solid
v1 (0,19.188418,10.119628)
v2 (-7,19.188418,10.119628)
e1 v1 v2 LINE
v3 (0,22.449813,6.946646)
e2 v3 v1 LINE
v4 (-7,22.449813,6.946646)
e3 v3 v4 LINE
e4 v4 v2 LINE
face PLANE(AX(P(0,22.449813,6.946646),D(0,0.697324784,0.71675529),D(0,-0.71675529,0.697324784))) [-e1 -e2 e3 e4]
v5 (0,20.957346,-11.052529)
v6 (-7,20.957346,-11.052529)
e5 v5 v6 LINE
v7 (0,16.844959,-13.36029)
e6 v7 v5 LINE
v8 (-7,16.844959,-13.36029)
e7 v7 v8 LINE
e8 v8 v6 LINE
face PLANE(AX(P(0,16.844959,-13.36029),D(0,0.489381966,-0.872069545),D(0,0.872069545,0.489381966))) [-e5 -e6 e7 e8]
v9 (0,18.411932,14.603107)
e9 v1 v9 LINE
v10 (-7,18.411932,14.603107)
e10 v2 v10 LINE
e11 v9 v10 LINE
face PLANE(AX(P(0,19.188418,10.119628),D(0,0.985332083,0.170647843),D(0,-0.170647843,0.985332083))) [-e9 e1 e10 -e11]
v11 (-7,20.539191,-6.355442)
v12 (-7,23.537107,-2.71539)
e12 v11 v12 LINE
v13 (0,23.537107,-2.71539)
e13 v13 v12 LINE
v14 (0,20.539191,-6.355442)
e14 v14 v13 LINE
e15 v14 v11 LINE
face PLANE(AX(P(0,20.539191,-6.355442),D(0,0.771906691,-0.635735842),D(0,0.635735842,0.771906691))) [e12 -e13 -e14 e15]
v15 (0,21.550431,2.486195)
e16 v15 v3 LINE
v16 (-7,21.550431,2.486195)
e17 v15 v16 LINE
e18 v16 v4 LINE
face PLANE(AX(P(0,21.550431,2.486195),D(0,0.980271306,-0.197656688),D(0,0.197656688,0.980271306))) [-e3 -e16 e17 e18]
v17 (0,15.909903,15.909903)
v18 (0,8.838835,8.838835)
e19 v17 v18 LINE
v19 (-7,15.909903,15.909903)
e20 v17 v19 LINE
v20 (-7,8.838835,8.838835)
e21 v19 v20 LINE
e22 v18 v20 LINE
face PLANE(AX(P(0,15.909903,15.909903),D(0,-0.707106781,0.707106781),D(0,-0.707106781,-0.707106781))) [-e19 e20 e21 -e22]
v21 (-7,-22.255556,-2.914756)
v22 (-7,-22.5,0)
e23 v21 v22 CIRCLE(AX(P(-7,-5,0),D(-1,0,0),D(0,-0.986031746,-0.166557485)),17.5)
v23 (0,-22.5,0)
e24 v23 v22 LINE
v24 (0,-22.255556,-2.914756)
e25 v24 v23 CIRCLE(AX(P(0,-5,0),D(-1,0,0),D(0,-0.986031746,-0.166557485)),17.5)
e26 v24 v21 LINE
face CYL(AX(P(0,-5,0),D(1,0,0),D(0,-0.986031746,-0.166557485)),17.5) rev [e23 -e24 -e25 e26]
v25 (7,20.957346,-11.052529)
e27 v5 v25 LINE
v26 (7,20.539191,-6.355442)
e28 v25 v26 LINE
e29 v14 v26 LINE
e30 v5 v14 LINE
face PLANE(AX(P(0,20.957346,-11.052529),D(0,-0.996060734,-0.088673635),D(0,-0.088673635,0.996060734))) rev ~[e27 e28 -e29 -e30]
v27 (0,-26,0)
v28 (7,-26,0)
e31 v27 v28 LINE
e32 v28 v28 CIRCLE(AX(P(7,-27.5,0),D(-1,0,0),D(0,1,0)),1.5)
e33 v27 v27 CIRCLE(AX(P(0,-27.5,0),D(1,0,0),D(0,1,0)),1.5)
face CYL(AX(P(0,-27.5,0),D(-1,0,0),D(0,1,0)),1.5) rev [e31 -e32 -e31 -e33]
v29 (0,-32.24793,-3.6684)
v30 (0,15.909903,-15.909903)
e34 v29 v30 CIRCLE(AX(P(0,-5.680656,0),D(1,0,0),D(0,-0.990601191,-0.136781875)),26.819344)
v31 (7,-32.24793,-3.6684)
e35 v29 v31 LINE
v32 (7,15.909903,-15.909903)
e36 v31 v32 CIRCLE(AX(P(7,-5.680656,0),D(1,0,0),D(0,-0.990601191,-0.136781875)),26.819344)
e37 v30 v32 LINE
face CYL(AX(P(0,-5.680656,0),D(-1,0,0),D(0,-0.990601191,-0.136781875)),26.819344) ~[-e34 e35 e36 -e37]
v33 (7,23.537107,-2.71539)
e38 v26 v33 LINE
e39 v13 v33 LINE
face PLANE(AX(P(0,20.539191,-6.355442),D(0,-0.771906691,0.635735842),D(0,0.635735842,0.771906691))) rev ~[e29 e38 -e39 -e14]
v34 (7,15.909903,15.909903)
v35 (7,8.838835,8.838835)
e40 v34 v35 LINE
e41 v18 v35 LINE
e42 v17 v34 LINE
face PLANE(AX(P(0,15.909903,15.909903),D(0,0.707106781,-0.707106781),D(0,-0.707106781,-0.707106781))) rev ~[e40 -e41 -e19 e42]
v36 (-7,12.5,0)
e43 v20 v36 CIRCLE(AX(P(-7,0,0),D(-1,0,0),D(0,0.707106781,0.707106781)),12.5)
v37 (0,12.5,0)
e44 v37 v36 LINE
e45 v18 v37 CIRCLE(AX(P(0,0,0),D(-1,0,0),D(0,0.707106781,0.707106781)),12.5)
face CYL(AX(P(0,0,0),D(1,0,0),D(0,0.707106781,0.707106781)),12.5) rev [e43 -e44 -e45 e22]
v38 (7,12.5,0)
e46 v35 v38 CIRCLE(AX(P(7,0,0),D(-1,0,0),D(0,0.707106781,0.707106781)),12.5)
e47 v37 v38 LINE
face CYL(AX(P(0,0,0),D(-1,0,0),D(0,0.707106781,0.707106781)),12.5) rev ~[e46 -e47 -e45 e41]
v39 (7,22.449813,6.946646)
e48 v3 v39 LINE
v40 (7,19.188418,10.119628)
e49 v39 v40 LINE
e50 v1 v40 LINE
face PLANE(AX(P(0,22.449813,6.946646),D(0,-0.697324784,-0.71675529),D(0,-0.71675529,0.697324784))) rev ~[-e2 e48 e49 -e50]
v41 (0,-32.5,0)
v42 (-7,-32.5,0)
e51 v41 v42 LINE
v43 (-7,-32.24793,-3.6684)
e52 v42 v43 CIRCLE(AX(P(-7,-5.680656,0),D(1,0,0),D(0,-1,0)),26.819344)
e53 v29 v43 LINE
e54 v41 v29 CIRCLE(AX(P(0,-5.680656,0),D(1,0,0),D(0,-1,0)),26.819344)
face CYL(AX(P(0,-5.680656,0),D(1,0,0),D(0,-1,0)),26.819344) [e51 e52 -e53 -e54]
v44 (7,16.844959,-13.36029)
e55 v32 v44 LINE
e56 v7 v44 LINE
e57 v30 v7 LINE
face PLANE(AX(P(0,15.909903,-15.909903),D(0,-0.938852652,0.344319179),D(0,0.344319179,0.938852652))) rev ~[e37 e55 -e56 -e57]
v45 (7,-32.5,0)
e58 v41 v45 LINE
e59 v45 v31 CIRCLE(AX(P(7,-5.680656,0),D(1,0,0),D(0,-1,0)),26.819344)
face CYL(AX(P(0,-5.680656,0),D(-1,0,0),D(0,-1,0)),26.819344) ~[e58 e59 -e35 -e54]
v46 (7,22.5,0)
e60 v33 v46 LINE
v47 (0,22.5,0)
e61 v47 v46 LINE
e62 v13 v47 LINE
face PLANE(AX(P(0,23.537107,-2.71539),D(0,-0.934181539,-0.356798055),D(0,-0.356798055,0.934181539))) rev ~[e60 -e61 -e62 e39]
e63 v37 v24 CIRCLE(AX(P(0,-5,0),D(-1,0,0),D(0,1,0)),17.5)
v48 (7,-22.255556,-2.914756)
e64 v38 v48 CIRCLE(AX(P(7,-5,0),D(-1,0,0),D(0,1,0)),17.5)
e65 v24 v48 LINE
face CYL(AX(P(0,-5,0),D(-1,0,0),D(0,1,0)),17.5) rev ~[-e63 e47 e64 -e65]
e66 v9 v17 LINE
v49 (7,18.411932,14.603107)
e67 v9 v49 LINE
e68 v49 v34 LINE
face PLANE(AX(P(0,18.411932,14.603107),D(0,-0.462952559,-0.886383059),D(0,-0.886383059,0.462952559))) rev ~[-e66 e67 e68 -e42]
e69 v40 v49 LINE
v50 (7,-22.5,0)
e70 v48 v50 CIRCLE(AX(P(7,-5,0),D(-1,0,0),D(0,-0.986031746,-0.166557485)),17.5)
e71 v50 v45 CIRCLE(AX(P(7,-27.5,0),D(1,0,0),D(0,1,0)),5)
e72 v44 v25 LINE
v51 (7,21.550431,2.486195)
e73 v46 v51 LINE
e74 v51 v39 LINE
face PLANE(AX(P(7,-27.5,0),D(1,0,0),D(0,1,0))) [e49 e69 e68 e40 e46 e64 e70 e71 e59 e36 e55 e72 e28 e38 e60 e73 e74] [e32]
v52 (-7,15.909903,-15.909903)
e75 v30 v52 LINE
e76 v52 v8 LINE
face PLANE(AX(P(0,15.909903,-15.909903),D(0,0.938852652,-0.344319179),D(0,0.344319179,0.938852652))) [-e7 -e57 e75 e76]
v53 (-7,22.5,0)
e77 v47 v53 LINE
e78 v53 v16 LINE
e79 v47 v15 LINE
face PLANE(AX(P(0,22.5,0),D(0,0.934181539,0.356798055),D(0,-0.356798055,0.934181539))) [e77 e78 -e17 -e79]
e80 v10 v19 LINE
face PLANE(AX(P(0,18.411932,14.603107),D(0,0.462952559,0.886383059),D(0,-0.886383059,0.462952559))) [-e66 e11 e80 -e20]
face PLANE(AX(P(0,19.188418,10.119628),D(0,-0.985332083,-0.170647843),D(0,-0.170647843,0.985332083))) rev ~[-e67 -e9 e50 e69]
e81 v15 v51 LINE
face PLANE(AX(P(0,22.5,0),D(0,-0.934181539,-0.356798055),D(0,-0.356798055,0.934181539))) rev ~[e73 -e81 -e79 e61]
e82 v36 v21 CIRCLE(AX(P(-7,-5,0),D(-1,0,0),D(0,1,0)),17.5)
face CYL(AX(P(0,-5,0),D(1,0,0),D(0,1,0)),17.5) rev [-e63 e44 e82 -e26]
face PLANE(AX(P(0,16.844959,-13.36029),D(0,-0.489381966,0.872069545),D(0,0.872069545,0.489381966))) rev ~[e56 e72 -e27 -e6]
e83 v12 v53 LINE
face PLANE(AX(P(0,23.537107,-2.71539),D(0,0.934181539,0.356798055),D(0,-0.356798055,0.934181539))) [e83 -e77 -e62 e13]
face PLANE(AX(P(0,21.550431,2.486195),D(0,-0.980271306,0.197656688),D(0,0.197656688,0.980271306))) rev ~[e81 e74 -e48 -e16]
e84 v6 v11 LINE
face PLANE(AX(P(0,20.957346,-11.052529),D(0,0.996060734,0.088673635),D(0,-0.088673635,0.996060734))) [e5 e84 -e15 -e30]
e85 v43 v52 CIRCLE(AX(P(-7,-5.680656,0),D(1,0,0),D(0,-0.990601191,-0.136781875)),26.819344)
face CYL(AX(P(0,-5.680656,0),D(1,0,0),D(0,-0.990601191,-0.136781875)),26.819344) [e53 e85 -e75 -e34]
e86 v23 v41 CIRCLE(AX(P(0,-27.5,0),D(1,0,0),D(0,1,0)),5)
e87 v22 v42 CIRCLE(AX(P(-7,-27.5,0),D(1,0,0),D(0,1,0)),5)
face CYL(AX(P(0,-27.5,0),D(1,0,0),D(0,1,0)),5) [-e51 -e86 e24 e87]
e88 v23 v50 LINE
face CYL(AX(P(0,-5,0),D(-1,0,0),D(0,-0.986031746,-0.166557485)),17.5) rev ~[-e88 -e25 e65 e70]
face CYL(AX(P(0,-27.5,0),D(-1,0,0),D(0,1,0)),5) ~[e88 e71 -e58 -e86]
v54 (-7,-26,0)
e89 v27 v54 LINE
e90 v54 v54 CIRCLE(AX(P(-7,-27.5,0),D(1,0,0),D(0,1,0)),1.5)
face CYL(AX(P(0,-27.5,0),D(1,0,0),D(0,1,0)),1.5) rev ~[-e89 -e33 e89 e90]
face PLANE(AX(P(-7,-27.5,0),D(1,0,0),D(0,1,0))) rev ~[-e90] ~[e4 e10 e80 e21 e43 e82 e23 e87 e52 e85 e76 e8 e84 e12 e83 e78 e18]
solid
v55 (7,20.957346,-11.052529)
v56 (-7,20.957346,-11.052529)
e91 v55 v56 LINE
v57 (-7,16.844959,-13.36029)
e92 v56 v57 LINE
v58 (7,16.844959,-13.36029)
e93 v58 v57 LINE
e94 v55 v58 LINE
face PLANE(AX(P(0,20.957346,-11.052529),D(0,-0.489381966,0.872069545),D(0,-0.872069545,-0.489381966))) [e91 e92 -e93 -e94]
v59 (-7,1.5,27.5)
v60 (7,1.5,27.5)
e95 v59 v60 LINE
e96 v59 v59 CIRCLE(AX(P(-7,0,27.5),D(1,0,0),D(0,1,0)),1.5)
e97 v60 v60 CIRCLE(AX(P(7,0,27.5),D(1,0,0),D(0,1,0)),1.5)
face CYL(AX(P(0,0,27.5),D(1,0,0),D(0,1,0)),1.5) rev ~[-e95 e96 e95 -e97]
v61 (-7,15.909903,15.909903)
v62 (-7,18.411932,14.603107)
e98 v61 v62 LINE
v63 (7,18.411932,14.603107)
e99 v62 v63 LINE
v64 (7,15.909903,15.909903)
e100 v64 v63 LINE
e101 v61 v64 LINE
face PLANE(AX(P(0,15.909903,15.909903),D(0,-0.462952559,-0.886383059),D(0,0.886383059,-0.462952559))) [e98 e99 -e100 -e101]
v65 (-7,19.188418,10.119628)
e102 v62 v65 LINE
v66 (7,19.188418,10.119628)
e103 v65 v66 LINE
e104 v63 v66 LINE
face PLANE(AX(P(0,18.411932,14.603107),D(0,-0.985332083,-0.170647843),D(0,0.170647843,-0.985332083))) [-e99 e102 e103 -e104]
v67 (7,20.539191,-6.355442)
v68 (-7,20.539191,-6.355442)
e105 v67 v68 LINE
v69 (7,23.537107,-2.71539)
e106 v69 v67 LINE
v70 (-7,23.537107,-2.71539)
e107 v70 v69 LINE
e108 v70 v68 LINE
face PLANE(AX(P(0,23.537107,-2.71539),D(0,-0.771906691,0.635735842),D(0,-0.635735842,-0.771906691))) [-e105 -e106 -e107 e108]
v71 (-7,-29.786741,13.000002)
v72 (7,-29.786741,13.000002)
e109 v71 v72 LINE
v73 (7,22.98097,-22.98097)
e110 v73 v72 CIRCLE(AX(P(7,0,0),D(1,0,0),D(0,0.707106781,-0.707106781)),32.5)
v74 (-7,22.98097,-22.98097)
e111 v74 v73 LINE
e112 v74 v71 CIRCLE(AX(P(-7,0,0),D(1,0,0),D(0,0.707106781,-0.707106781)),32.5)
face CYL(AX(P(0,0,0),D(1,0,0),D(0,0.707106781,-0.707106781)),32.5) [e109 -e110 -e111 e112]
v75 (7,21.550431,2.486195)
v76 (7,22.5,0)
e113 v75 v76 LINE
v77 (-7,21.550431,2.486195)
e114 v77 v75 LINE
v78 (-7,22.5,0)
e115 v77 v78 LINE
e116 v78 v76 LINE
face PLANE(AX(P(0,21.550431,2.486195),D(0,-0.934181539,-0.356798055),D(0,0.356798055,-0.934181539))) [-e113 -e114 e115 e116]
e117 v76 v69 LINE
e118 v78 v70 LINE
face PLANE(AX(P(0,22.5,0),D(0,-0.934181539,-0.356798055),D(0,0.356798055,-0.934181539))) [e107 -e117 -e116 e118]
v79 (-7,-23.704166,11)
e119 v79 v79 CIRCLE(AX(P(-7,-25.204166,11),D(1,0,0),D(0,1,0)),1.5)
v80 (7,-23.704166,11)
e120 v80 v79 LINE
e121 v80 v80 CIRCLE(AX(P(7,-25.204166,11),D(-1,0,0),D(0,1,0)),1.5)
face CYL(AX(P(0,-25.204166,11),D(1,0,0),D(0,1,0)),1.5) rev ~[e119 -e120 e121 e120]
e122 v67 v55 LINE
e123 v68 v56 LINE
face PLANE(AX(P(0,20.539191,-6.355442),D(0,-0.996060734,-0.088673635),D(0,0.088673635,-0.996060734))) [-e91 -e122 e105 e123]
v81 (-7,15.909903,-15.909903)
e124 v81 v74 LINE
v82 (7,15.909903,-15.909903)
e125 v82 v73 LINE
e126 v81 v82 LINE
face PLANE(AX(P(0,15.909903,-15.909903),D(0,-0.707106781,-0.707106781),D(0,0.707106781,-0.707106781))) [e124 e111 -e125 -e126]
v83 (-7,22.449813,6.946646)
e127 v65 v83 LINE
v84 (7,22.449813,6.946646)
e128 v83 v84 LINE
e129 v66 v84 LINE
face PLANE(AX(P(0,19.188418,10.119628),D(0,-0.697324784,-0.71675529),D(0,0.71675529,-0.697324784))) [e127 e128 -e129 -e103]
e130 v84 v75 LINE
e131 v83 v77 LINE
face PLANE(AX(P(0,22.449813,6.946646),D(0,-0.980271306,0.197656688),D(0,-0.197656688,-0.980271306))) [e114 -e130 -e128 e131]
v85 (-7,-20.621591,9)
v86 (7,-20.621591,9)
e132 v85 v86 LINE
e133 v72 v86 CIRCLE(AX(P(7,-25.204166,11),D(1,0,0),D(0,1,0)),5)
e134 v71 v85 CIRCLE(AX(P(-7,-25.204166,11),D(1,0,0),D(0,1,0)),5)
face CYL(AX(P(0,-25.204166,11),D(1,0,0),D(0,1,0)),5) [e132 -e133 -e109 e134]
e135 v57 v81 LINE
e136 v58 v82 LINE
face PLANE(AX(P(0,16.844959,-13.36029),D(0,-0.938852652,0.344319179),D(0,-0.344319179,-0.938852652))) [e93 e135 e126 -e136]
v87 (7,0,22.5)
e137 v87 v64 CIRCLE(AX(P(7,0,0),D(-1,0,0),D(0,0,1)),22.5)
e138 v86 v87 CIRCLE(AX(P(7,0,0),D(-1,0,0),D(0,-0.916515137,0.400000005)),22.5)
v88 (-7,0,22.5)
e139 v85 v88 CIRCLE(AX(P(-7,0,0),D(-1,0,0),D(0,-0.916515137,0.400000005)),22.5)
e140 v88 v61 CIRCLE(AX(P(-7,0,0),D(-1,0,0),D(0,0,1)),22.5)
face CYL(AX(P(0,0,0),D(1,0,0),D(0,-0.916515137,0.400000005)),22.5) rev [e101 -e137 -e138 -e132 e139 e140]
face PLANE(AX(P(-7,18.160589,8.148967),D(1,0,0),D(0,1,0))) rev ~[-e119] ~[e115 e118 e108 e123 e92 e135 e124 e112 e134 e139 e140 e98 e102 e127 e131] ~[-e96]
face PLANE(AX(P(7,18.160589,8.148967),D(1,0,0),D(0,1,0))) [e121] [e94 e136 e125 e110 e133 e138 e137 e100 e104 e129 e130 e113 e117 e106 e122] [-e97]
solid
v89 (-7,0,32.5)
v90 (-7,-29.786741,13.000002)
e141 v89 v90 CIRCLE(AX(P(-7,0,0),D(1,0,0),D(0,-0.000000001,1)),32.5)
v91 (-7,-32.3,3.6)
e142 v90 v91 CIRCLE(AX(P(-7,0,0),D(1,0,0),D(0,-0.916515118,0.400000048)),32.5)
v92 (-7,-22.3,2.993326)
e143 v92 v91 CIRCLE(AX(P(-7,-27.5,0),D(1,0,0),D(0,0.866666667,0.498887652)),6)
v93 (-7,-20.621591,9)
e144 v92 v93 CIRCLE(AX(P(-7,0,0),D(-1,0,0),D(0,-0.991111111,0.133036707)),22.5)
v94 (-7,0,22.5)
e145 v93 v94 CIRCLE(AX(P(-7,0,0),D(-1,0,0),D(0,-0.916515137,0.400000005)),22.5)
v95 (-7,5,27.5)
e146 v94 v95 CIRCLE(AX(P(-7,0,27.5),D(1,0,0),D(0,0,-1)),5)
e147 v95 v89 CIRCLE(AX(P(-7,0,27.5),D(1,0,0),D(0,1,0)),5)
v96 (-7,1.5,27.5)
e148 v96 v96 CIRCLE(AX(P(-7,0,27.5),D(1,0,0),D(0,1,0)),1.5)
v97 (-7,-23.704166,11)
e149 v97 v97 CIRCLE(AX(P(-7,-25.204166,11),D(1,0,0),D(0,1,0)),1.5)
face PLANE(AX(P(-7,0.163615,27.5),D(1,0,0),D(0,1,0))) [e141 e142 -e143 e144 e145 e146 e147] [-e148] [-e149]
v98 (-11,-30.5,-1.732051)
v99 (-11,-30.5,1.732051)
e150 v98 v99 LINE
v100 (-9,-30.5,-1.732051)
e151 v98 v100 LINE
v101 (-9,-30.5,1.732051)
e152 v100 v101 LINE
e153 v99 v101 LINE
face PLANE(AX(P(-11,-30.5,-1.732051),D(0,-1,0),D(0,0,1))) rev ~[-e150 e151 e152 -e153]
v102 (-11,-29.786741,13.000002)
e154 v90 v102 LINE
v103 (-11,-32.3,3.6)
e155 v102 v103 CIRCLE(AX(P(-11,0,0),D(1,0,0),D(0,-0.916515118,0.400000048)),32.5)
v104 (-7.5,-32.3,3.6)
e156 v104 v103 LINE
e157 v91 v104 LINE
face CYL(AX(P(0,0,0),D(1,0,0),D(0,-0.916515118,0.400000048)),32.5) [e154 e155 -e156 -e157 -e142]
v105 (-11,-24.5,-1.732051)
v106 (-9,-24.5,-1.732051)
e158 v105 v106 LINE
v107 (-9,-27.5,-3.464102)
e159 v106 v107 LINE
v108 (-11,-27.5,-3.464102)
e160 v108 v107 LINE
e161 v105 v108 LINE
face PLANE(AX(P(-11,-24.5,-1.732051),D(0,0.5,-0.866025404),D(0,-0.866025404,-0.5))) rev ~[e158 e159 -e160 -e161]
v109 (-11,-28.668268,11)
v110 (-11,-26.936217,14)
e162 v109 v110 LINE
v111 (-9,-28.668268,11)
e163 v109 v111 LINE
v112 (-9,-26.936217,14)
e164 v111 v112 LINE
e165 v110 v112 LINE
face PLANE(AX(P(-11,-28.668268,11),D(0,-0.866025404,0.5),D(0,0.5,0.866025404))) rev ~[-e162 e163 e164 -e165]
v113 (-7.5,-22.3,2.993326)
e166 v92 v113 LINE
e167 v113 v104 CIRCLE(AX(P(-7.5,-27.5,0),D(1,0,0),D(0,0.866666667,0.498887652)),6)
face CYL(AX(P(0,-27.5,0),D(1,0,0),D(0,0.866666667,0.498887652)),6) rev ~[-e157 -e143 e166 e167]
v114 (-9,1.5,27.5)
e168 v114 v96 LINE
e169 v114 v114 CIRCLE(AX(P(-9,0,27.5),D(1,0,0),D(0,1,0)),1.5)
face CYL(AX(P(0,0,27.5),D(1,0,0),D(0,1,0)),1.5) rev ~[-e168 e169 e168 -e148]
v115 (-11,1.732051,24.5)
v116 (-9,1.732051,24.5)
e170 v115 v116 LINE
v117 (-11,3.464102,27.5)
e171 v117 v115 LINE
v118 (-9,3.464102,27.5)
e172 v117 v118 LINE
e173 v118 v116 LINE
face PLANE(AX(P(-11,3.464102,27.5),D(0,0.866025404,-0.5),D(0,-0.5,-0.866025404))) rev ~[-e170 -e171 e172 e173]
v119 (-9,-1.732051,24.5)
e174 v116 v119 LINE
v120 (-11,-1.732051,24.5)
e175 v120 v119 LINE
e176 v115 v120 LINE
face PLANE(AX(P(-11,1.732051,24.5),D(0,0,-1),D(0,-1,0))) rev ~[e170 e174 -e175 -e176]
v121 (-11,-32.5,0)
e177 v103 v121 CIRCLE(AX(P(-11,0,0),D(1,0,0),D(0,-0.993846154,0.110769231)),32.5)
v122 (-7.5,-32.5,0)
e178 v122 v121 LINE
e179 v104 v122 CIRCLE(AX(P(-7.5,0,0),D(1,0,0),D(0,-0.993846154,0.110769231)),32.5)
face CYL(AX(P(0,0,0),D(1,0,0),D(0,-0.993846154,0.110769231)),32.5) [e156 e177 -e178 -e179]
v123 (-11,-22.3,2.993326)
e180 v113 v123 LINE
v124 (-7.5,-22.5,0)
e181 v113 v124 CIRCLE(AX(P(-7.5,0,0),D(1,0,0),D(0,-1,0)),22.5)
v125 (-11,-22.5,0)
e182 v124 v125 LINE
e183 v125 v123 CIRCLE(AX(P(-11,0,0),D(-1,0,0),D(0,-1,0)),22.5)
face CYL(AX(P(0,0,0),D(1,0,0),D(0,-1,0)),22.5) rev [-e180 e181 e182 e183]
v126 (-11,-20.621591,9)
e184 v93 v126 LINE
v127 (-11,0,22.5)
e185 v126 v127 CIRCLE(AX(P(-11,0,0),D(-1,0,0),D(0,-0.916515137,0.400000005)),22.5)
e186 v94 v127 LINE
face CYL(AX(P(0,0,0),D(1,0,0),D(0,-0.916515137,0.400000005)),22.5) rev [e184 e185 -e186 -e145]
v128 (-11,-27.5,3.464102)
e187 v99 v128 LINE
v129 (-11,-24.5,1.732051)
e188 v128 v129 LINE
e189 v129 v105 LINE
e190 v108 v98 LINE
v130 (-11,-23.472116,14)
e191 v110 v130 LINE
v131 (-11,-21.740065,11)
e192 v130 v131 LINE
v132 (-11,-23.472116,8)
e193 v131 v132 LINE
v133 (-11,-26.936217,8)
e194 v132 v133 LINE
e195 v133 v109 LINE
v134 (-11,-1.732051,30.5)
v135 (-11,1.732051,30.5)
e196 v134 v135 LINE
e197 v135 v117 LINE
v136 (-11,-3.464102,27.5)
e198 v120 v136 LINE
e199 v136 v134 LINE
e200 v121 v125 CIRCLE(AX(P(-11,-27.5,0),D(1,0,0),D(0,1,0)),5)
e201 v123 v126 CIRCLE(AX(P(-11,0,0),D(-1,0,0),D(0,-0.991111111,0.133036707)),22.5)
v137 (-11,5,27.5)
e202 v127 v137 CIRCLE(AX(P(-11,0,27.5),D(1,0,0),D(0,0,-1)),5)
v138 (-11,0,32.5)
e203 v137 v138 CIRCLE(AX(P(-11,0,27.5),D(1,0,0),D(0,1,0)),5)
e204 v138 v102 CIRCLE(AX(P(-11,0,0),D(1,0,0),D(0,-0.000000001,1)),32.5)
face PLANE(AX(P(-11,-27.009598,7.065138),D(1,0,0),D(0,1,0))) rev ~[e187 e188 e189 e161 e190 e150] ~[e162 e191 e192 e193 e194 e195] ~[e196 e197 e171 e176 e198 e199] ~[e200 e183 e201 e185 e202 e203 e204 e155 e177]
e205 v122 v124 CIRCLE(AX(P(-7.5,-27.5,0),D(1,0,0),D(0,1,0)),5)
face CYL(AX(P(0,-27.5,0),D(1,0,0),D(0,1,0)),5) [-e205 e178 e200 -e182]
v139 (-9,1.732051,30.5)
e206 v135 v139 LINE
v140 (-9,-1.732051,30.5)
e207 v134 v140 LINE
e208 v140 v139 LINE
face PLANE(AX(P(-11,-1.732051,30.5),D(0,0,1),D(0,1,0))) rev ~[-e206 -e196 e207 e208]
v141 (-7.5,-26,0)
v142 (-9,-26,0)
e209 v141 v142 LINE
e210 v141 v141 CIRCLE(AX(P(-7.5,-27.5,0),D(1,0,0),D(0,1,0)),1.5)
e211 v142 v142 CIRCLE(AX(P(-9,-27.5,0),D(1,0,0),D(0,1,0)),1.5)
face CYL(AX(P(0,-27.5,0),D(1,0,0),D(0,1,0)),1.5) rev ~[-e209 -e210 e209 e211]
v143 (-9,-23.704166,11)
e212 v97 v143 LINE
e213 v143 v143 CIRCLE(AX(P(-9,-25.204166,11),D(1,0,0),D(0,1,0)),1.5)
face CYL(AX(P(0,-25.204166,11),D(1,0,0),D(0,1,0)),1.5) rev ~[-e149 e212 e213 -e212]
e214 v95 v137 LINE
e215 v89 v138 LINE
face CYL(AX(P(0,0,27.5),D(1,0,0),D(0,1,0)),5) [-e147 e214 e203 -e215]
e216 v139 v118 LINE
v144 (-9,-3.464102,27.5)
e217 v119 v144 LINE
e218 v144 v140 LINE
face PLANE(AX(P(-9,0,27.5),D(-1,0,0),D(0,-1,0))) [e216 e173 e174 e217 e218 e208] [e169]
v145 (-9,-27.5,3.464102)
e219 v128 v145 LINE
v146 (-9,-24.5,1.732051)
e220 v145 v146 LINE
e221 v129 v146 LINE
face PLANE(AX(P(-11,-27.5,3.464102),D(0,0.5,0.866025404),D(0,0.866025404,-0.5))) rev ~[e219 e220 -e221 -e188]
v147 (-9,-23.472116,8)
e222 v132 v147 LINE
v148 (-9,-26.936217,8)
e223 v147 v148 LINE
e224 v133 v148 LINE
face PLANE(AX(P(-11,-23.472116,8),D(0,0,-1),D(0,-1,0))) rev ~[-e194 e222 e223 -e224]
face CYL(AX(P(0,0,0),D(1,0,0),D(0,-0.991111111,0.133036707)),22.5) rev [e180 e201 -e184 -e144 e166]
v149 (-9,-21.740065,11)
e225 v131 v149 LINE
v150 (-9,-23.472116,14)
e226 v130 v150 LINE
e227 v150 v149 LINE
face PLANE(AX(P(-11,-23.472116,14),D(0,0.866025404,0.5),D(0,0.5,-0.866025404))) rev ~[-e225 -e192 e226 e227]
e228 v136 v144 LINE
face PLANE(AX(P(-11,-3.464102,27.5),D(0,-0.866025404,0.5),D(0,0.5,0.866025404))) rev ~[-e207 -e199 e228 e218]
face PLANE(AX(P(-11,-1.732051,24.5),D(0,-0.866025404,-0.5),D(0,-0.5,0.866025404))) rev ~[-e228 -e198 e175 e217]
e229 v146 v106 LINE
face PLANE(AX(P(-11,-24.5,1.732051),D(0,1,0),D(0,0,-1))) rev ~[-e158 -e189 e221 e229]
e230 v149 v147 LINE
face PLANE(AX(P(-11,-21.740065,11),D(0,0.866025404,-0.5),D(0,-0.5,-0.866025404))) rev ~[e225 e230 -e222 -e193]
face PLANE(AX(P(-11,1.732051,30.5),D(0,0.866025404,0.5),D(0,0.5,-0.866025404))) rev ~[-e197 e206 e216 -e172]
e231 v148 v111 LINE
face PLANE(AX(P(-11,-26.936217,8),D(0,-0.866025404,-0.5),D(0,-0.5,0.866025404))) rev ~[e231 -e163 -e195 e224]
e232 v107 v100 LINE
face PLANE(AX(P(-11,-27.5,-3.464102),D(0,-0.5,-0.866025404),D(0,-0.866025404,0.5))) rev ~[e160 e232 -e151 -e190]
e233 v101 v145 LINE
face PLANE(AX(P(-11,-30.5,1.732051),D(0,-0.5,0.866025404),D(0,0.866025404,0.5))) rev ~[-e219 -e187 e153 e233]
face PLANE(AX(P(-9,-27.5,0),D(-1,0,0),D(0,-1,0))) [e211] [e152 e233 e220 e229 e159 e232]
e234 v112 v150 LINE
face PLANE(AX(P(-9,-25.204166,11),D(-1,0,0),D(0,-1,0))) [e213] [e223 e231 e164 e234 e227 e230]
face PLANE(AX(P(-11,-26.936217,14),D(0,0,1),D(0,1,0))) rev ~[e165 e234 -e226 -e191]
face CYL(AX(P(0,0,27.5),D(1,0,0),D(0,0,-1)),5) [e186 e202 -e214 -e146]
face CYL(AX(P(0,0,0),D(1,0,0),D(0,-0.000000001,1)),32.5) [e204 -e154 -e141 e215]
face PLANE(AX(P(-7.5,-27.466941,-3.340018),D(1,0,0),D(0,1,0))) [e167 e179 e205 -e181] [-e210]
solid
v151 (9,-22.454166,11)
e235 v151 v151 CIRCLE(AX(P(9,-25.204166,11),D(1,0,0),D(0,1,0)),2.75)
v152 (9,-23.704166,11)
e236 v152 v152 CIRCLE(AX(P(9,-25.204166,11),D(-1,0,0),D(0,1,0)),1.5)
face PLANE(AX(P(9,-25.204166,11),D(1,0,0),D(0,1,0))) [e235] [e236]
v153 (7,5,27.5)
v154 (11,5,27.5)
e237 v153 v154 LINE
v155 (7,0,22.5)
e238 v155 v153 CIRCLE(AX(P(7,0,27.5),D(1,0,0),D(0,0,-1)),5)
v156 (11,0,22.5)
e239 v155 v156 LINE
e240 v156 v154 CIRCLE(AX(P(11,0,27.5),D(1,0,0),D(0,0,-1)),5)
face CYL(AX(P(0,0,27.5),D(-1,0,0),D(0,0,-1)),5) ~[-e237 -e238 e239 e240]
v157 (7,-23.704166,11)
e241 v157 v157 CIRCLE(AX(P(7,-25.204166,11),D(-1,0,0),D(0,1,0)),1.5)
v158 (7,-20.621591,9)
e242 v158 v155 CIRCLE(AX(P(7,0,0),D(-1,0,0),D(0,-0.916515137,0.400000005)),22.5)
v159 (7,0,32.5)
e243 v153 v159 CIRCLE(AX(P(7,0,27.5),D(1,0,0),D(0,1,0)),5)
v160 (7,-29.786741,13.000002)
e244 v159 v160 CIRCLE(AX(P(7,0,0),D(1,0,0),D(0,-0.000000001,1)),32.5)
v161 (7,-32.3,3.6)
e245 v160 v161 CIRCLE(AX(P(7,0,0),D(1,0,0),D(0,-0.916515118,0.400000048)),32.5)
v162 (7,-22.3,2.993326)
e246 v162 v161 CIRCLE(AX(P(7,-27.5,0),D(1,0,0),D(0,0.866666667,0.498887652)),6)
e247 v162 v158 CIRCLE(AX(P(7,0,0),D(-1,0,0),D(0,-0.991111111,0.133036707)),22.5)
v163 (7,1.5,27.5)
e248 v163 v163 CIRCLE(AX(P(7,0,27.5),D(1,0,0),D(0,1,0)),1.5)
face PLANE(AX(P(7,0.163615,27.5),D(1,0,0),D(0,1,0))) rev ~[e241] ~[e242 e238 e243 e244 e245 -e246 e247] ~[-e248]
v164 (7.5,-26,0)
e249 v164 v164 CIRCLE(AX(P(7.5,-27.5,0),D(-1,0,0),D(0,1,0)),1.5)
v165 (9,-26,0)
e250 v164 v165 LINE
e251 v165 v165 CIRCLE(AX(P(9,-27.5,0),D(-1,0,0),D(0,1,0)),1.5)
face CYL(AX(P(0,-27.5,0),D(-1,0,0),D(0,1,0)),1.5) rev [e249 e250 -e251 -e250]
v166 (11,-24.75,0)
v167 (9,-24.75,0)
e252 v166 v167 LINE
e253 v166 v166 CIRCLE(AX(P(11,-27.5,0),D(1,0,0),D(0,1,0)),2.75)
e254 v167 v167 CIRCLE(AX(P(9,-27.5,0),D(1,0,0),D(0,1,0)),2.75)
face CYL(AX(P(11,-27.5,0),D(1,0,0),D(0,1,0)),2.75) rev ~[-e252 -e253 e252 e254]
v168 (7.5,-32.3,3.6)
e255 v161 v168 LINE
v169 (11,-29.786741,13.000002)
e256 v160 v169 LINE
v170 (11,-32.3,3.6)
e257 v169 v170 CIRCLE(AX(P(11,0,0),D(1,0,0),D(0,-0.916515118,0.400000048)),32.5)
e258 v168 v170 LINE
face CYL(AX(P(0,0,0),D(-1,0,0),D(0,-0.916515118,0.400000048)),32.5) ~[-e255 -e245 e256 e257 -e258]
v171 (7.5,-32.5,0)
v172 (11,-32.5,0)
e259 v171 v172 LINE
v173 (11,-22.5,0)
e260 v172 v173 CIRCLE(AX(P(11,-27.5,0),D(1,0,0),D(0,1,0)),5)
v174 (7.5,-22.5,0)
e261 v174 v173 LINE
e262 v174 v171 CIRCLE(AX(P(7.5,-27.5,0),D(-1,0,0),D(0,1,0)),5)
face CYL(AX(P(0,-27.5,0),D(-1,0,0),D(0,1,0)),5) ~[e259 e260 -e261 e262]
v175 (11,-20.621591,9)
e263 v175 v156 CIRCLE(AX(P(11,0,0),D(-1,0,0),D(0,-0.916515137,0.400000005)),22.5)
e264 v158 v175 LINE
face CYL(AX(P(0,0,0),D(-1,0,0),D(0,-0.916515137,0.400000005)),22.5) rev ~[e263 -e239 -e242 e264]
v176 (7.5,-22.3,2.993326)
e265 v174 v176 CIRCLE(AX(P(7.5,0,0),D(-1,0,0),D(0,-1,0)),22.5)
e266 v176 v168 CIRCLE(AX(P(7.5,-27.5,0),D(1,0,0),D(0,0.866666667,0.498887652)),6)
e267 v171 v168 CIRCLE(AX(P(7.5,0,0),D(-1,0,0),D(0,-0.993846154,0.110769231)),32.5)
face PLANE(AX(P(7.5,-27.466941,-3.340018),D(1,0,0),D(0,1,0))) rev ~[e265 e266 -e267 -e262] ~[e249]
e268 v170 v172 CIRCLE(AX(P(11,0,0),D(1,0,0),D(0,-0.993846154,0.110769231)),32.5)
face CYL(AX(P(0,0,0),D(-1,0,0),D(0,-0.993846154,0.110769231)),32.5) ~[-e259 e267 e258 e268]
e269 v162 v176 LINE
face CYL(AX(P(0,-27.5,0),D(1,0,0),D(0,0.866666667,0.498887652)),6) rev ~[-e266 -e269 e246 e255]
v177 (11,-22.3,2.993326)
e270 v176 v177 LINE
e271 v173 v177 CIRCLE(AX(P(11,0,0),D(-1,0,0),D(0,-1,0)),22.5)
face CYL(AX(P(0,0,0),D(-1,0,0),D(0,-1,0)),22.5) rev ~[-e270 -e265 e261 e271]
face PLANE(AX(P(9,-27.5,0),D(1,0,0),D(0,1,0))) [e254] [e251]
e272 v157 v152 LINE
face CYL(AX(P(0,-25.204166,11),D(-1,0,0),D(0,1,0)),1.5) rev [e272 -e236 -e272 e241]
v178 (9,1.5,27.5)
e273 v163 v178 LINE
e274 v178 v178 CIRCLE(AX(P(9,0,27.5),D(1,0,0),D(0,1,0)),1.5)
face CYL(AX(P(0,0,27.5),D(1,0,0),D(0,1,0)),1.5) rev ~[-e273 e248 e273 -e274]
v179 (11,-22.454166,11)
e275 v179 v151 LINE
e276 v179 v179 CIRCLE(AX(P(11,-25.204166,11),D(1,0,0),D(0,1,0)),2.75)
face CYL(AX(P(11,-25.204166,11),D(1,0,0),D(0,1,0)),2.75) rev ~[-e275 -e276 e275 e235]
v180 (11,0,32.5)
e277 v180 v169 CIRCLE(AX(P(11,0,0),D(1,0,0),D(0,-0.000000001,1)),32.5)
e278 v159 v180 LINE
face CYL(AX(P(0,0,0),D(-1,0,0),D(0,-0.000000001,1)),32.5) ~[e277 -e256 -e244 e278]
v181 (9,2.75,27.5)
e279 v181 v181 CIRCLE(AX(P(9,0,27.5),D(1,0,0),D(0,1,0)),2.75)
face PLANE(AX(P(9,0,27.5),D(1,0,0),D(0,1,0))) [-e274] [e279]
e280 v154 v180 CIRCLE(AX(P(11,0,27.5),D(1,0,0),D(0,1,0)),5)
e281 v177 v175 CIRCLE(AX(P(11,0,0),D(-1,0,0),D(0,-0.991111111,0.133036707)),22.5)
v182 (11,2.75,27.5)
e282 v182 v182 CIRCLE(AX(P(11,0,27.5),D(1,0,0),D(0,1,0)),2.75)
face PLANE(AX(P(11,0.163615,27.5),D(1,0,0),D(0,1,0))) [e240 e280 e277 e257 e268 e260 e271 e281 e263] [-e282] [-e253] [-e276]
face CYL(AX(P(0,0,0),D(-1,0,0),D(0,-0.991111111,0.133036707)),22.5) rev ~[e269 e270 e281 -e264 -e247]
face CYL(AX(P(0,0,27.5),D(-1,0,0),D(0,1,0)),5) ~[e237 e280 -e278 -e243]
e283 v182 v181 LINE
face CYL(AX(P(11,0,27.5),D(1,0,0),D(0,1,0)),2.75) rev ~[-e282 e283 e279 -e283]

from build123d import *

# Parameters (mm, degrees)
F2_DEPTH  = 11
F3_DEPTH  = 11
F4_DEPTH  = 7
F5_DEPTH  = 7.5
F6_DEPTH  = 7
F7_DEPTH  = 7
F1_R      = 1.5
F8_DEPTH  = 12.5
F9_R      = 2.75
F10_DEPTH = 2
F12_DEPTH = 2


with BuildPart() as f2:
    # F0 (on Right) → F2 (new body)
    with BuildSketch(Plane.YZ):
        with BuildLine():
            ThreePointArc((-1.75e-08, 32.5), (-5, 27.4999999913), (-2e-10, 22.5))
            ThreePointArc((-2e-10, 22.5), (3.5355339059, 23.964466094), (5, 27.5))
            ThreePointArc((5, 27.5), (3.5355338997, 31.0355339121), (-1.75e-08, 32.5))
        make_face()
        with BuildLine():
            ThreePointArc((-20.2041663223, 11), (-20.3096347441, 9.9784518461), (-20.6215905745, 9.000000121))
            ThreePointArc((-20.6215905745, 9.000000121), (-12.3237574887, 18.8248506331), (-2e-10, 22.5))
            ThreePointArc((-2e-10, 22.5), (-5, 27.4999999913), (-1.75e-08, 32.5))
            ThreePointArc((-1.75e-08, 32.5), (-17.8009824177, 27.1914513214), (-29.7867413397, 13.0000015524))
            ThreePointArc((-29.7867413397, 13.0000015524), (-24.1826172748, 15.8945313916), (-20.2041663223, 11))
        make_face()
        with BuildLine():
            ThreePointArc((-29.7867413397, 13.0000015524), (-27.204167038, 6.4174246174), (-20.6215905745, 9.000000121))
            ThreePointArc((-20.6215905745, 9.000000121), (-20.3096347441, 9.9784518461), (-20.2041663223, 11))
            ThreePointArc((-20.2041663223, 11), (-24.1826172748, 15.8945313916), (-29.7867413397, 13.0000015524))
        make_face()
        with BuildLine():
            ThreePointArc((-32.3, 3.6), (-27.1366635677, 5.9889887825), (-22.3, 2.9933259094))
            ThreePointArc((-22.3, 2.9933259094), (-21.6699277371, 6.0550996579), (-20.6215905745, 9.000000121))
            ThreePointArc((-20.6215905745, 9.000000121), (-27.204167038, 6.4174246174), (-29.7867413397, 13.0000015524))
            ThreePointArc((-29.7867413397, 13.0000015524), (-31.3971474794, 8.3945893383), (-32.3, 3.6))
        make_face()
        with BuildLine():
            ThreePointArc((-32.5, 0), (-27.5, -5), (-22.5, 0))
            ThreePointArc((-22.5, 0), (-27.5, 5), (-32.5, 0))
        make_face()
        with BuildLine():
            ThreePointArc((-32.5, 0), (-27.5, 5), (-22.5, 0))
            ThreePointArc((-22.5, 0), (-22.4499443206, 1.5), (-22.3, 2.9933259094))
            ThreePointArc((-22.3, 2.9933259094), (-27.1366635677, 5.9889887825), (-32.3, 3.6))
            ThreePointArc((-32.3, 3.6), (-32.4499614792, 1.8027756377), (-32.5, 0))
        make_face()
    extrude(amount=F2_DEPTH)


with BuildPart() as f3:
    # F0 (on Right) → F3 (new body)
    with BuildSketch(Plane.YZ):
        with BuildLine():
            ThreePointArc((-32.3, 3.6), (-27.1366635677, 5.9889887825), (-22.3, 2.9933259094))
            ThreePointArc((-22.3, 2.9933259094), (-21.6699277371, 6.0550996579), (-20.6215905745, 9.000000121))
            ThreePointArc((-20.6215905745, 9.000000121), (-27.204167038, 6.4174246174), (-29.7867413397, 13.0000015524))
            ThreePointArc((-29.7867413397, 13.0000015524), (-31.3971474794, 8.3945893383), (-32.3, 3.6))
        make_face()
        with BuildLine():
            ThreePointArc((-29.7867413397, 13.0000015524), (-27.204167038, 6.4174246174), (-20.6215905745, 9.000000121))
            ThreePointArc((-20.6215905745, 9.000000121), (-20.3096347441, 9.9784518461), (-20.2041663223, 11))
            ThreePointArc((-20.2041663223, 11), (-24.1826172748, 15.8945313916), (-29.7867413397, 13.0000015524))
        make_face()
        with BuildLine():
            ThreePointArc((-20.2041663223, 11), (-20.3096347441, 9.9784518461), (-20.6215905745, 9.000000121))
            ThreePointArc((-20.6215905745, 9.000000121), (-12.3237574887, 18.8248506331), (-2e-10, 22.5))
            ThreePointArc((-2e-10, 22.5), (-5, 27.4999999913), (-1.75e-08, 32.5))
            ThreePointArc((-1.75e-08, 32.5), (-17.8009824177, 27.1914513214), (-29.7867413397, 13.0000015524))
            ThreePointArc((-29.7867413397, 13.0000015524), (-24.1826172748, 15.8945313916), (-20.2041663223, 11))
        make_face()
        with BuildLine():
            ThreePointArc((-1.75e-08, 32.5), (-5, 27.4999999913), (-2e-10, 22.5))
            ThreePointArc((-2e-10, 22.5), (3.5355339059, 23.964466094), (5, 27.5))
            ThreePointArc((5, 27.5), (3.5355338997, 31.0355339121), (-1.75e-08, 32.5))
        make_face()
        with BuildLine():
            ThreePointArc((-32.5, 0), (-27.5, -5), (-22.5, 0))
            ThreePointArc((-22.5, 0), (-27.5, 5), (-32.5, 0))
        make_face()
        with BuildLine():
            ThreePointArc((-32.5, 0), (-27.5, 5), (-22.5, 0))
            ThreePointArc((-22.5, 0), (-22.4499443206, 1.5), (-22.3, 2.9933259094))
            ThreePointArc((-22.3, 2.9933259094), (-27.1366635677, 5.9889887825), (-32.3, 3.6))
            ThreePointArc((-32.3, 3.6), (-32.4499614792, 1.8027756377), (-32.5, 0))
        make_face()
    extrude(amount=-F3_DEPTH)


with BuildPart() as f4_tool:
    # F0 (on Right) → F4 (new body, symmetric)
    with BuildSketch(Plane.YZ):
        with BuildLine():
            ThreePointArc((-1.75e-08, 32.5), (-5, 27.4999999913), (-2e-10, 22.5))
            ThreePointArc((-2e-10, 22.5), (3.5355339059, 23.964466094), (5, 27.5))
            ThreePointArc((5, 27.5), (3.5355338997, 31.0355339121), (-1.75e-08, 32.5))
        make_face()
        with BuildLine():
            ThreePointArc((-20.2041663223, 11), (-20.3096347441, 9.9784518461), (-20.6215905745, 9.000000121))
            ThreePointArc((-20.6215905745, 9.000000121), (-12.3237574887, 18.8248506331), (-2e-10, 22.5))
            ThreePointArc((-2e-10, 22.5), (-5, 27.4999999913), (-1.75e-08, 32.5))
            ThreePointArc((-1.75e-08, 32.5), (-17.8009824177, 27.1914513214), (-29.7867413397, 13.0000015524))
            ThreePointArc((-29.7867413397, 13.0000015524), (-24.1826172748, 15.8945313916), (-20.2041663223, 11))
        make_face()
        with BuildLine():
            ThreePointArc((-29.7867413397, 13.0000015524), (-27.204167038, 6.4174246174), (-20.6215905745, 9.000000121))
            ThreePointArc((-20.6215905745, 9.000000121), (-20.3096347441, 9.9784518461), (-20.2041663223, 11))
            ThreePointArc((-20.2041663223, 11), (-24.1826172748, 15.8945313916), (-29.7867413397, 13.0000015524))
        make_face()
        with BuildLine():
            ThreePointArc((-32.3, 3.6), (-27.1366635677, 5.9889887825), (-22.3, 2.9933259094))
            ThreePointArc((-22.3, 2.9933259094), (-21.6699277371, 6.0550996579), (-20.6215905745, 9.000000121))
            ThreePointArc((-20.6215905745, 9.000000121), (-27.204167038, 6.4174246174), (-29.7867413397, 13.0000015524))
            ThreePointArc((-29.7867413397, 13.0000015524), (-31.3971474794, 8.3945893383), (-32.3, 3.6))
        make_face()
        with BuildLine():
            ThreePointArc((-32.5, 0), (-27.5, -5), (-22.5, 0))
            ThreePointArc((-22.5, 0), (-27.5, 5), (-32.5, 0))
        make_face()
        with BuildLine():
            ThreePointArc((-32.5, 0), (-27.5, 5), (-22.5, 0))
            ThreePointArc((-22.5, 0), (-22.4499443206, 1.5), (-22.3, 2.9933259094))
            ThreePointArc((-22.3, 2.9933259094), (-27.1366635677, 5.9889887825), (-32.3, 3.6))
            ThreePointArc((-32.3, 3.6), (-32.4499614792, 1.8027756377), (-32.5, 0))
        make_face()
    extrude(amount=F4_DEPTH, both=True)


with BuildPart() as f2_1:
    add(f2.part)

    # F4: cut by f4_tool
    add(f4_tool.part, mode=Mode.SUBTRACT)


with BuildPart() as f3_1:
    add(f3.part)

    # F4: cut by f4_tool
    add(f4_tool.part, mode=Mode.SUBTRACT)


with BuildPart() as f5_tool:
    # F0 (on Right) → F5 (new body, symmetric)
    with BuildSketch(Plane.YZ):
        with BuildLine():
            ThreePointArc((-22.2555555556, -2.9147559879), (-22.4387818127, -1.4624940646), (-22.5, 0))
            ThreePointArc((-22.5, 0), (-27.5, -5), (-32.5, 0))
            ThreePointArc((-32.5, 0), (-32.436908313, -1.83852516), (-32.2479300944, -3.6684001715))
            ThreePointArc((-32.2479300944, -3.6684001715), (-27.048750054, -5.9830070605), (-22.2555555556, -2.9147559879))
        make_face()
        with BuildLine():
            ThreePointArc((-32.5, 0), (-27.5, -5), (-22.5, 0))
            ThreePointArc((-22.5, 0), (-27.5, 5), (-32.5, 0))
        make_face()
        with BuildLine():
            ThreePointArc((-32.5, 0), (-27.5, 5), (-22.5, 0))
            ThreePointArc((-22.5, 0), (-22.4499443206, 1.5), (-22.3, 2.9933259094))
            ThreePointArc((-22.3, 2.9933259094), (-27.1366635677, 5.9889887825), (-32.3, 3.6))
            ThreePointArc((-32.3, 3.6), (-32.4499614792, 1.8027756377), (-32.5, 0))
        make_face()
        with BuildLine():
            ThreePointArc((-22.3, 2.9933259094), (-22.4499443206, 1.5), (-22.5, 0))
            ThreePointArc((-22.5, 0), (-22.4387818127, -1.4624940646), (-22.2555555556, -2.9147559879))
            ThreePointArc((-22.2555555556, -2.9147559879), (-21.6919595961, -1.5055453054), (-21.5, 0))
            ThreePointArc((-21.5, 0), (-21.7034493015, 1.5491933385), (-22.3, 2.9933259094))
        make_face()
        with BuildLine():
            ThreePointArc((-32.2479300944, -3.6684001715), (-32.436908313, -1.83852516), (-32.5, 0))
            ThreePointArc((-32.5, 0), (-32.4499614792, 1.8027756377), (-32.3, 3.6))
            ThreePointArc((-32.3, 3.6), (-33.4998460426, -0.0429821432), (-32.2479300944, -3.6684001715))
        make_face()
    extrude(amount=F5_DEPTH, both=True)


with BuildPart() as f2_2:
    add(f2_1.part)

    # F5: cut by f5_tool
    add(f5_tool.part, mode=Mode.SUBTRACT)


with BuildPart() as f3_2:
    add(f3_1.part)

    # F5: cut by f5_tool
    add(f5_tool.part, mode=Mode.SUBTRACT)


with BuildPart() as f6:
    # F0 (on Right) → F6 (new body, symmetric)
    with BuildSketch(Plane.YZ):
        with BuildLine():
            ThreePointArc((-32.5, 0), (-27.5, -5), (-22.5, 0))
            ThreePointArc((-22.5, 0), (-27.5, 5), (-32.5, 0))
        make_face()
        with BuildLine():
            ThreePointArc((-22.2555555556, -2.9147559879), (-22.4387818127, -1.4624940646), (-22.5, 0))
            ThreePointArc((-22.5, 0), (-27.5, -5), (-32.5, 0))
            ThreePointArc((-32.5, 0), (-32.436908313, -1.83852516), (-32.2479300944, -3.6684001715))
            ThreePointArc((-32.2479300944, -3.6684001715), (-27.048750054, -5.9830070605), (-22.2555555556, -2.9147559879))
        make_face()
        with BuildLine():
            ThreePointArc((12.5, 0), (-3.5375059354, -17.4387818127), (-22.2555555556, -2.9147559879))
            ThreePointArc((-22.2555555556, -2.9147559879), (-27.048750054, -5.9830070605), (-32.2479300944, -3.6684001715))
            ThreePointArc((-32.2479300944, -3.6684001715), (-12.2878883267, -25.992723915), (15.9099025767, -15.9099025767))
            Line((15.9099025767, -15.9099025767), (16.8449594162, -13.3602897524))
            Line((16.8449594162, -13.3602897524), (20.9573456606, -11.0525292345))
            Line((20.9573456606, -11.0525292345), (20.5391906636, -6.3554423043))
            Line((20.5391906636, -6.3554423043), (23.5371067656, -2.7153903437))
            Line((23.5371067656, -2.7153903437), (22.5, 0))
            Line((22.5, 0), (21.550431372, 2.4861948341))
            Line((21.550431372, 2.4861948341), (22.4498130509, 6.9466462396))
            Line((22.4498130509, 6.9466462396), (19.1884178414, 10.1196283437))
            Line((19.1884178414, 10.1196283437), (18.4119323851, 14.6031074037))
            Line((18.4119323851, 14.6031074037), (15.9099025767, 15.9099025767))
            Line((15.9099025767, 15.9099025767), (8.8388347648, 8.8388347648))
            ThreePointArc((8.8388347648, 8.8388347648), (11.5484941564, 4.7835429046), (12.5, 0))
        make_face()
        with BuildLine():
            ThreePointArc((12.5, 0), (-3.5375059354, -17.4387818127), (-22.2555555556, -2.9147559879))
            ThreePointArc((-22.2555555556, -2.9147559879), (-27.048750054, -5.9830070605), (-32.2479300944, -3.6684001715))
            ThreePointArc((-32.2479300944, -3.6684001715), (-12.2878883267, -25.992723915), (15.9099025767, -15.9099025767))
            Line((15.9099025767, -15.9099025767), (16.8449594162, -13.3602897524))
            Line((16.8449594162, -13.3602897524), (20.9573456606, -11.0525292345))
            Line((20.9573456606, -11.0525292345), (20.5391906636, -6.3554423043))
            Line((20.5391906636, -6.3554423043), (23.5371067656, -2.7153903437))
            Line((23.5371067656, -2.7153903437), (22.5, 0))
            Line((22.5, 0), (21.550431372, 2.4861948341))
            Line((21.550431372, 2.4861948341), (22.4498130509, 6.9466462396))
            Line((22.4498130509, 6.9466462396), (19.1884178414, 10.1196283437))
            Line((19.1884178414, 10.1196283437), (18.4119323851, 14.6031074037))
            Line((18.4119323851, 14.6031074037), (15.9099025767, 15.9099025767))
            Line((15.9099025767, 15.9099025767), (8.8388347648, 8.8388347648))
            ThreePointArc((8.8388347648, 8.8388347648), (11.5484941564, 4.7835429046), (12.5, 0))
        make_face()
    extrude(amount=F6_DEPTH, both=True)


with BuildPart() as f7:
    # F0 (on Right) → F7 (new body, symmetric)
    with BuildSketch(Plane.YZ):
        with BuildLine():
            Line((16.8449594162, -13.3602897524), (15.9099025767, -15.9099025767))
            Line((15.9099025767, -15.9099025767), (22.9809703886, -22.9809703886))
            ThreePointArc((22.9809703886, -22.9809703886), (30.0260848033, 12.43721156), (-1.75e-08, 32.5))
            ThreePointArc((-1.75e-08, 32.5), (3.5355338997, 31.0355339121), (5, 27.5))
            ThreePointArc((5, 27.5), (3.5355339059, 23.964466094), (-2e-10, 22.5))
            ThreePointArc((-2e-10, 22.5), (8.6103772281, 20.7872894815), (15.9099025767, 15.9099025767))
            Line((15.9099025767, 15.9099025767), (18.4119323851, 14.6031074037))
            Line((18.4119323851, 14.6031074037), (19.1884178414, 10.1196283437))
            Line((19.1884178414, 10.1196283437), (22.4498130509, 6.9466462396))
            Line((22.4498130509, 6.9466462396), (21.550431372, 2.4861948341))
            Line((21.550431372, 2.4861948341), (22.5, 0))
            Line((22.5, 0), (23.5371067656, -2.7153903437))
            Line((23.5371067656, -2.7153903437), (20.5391906636, -6.3554423043))
            Line((20.5391906636, -6.3554423043), (20.9573456606, -11.0525292345))
            Line((20.9573456606, -11.0525292345), (16.8449594162, -13.3602897524))
        make_face()
        with BuildLine():
            ThreePointArc((-1.75e-08, 32.5), (-5, 27.4999999913), (-2e-10, 22.5))
            ThreePointArc((-2e-10, 22.5), (3.5355339059, 23.964466094), (5, 27.5))
            ThreePointArc((5, 27.5), (3.5355338997, 31.0355339121), (-1.75e-08, 32.5))
        make_face()
        with BuildLine():
            ThreePointArc((-20.2041663223, 11), (-20.3096347441, 9.9784518461), (-20.6215905745, 9.000000121))
            ThreePointArc((-20.6215905745, 9.000000121), (-12.3237574887, 18.8248506331), (-2e-10, 22.5))
            ThreePointArc((-2e-10, 22.5), (-5, 27.4999999913), (-1.75e-08, 32.5))
            ThreePointArc((-1.75e-08, 32.5), (-17.8009824177, 27.1914513214), (-29.7867413397, 13.0000015524))
            ThreePointArc((-29.7867413397, 13.0000015524), (-24.1826172748, 15.8945313916), (-20.2041663223, 11))
        make_face()
        with BuildLine():
            ThreePointArc((-29.7867413397, 13.0000015524), (-27.204167038, 6.4174246174), (-20.6215905745, 9.000000121))
            ThreePointArc((-20.6215905745, 9.000000121), (-20.3096347441, 9.9784518461), (-20.2041663223, 11))
            ThreePointArc((-20.2041663223, 11), (-24.1826172748, 15.8945313916), (-29.7867413397, 13.0000015524))
        make_face()
    extrude(amount=F7_DEPTH, both=True)


with BuildPart() as f8_tool:
    # F1 (on Right) → F8 (new body, symmetric)
    with BuildSketch(Plane.YZ):
        with Locations((-27.5, 0)):
            Circle(F1_R)
        with Locations((-25.2041663223, 11)):
            Circle(F1_R)
        with Locations((0, 27.5)):
            Circle(F1_R)
    extrude(amount=F8_DEPTH, both=True)


with BuildPart() as f2_3:
    add(f2_2.part)

    # F8: cut by f8_tool
    add(f8_tool.part, mode=Mode.SUBTRACT)

    # F9 (on face) → F10 (cut)
    with BuildSketch(Plane.YZ.offset(11)):
        with Locations((-27.5, 0)):
            Circle(F9_R)
        with Locations((-25.2041663223, 11)):
            Circle(F9_R)
        with Locations((0, 27.5)):
            Circle(F9_R)
    extrude(amount=-F10_DEPTH, mode=Mode.SUBTRACT)


with BuildPart() as f3_3:
    add(f3_2.part)

    # F8: cut by f8_tool
    add(f8_tool.part, mode=Mode.SUBTRACT)

    # F11 (on face) → F12 (cut)
    with BuildSketch(Plane(origin=(-11, 0, 0), x_dir=(0, -1, 0), z_dir=(-1, 0, 0))):
        Polygon((30.5, -1.7320508076), (30.5, 1.7320508076), (27.5, 3.4641016151), (24.5, 1.7320508076), (24.5, -1.7320508076), (27.5, -3.4641016151), align=None)
        Polygon((23.4721155147, 8), (26.9362171298, 8), (28.6682679374, 11), (26.9362171298, 14), (23.4721155147, 14), (21.7400647071, 11), align=None)
        Polygon((-1.7320508076, 24.5), (1.7320508076, 24.5), (3.4641016151, 27.5), (1.7320508076, 30.5), (-1.7320508076, 30.5), (-3.4641016151, 27.5), align=None)
    extrude(amount=-F12_DEPTH, mode=Mode.SUBTRACT)


with BuildPart() as f6_1:
    add(f6.part)

    # F8: cut by f8_tool
    add(f8_tool.part, mode=Mode.SUBTRACT)


with BuildPart() as f7_1:
    add(f7.part)

    # F8: cut by f8_tool
    add(f8_tool.part, mode=Mode.SUBTRACT)


solid = Compound([f2_3.part, f3_3.part, f6_1.part, f7_1.part])
